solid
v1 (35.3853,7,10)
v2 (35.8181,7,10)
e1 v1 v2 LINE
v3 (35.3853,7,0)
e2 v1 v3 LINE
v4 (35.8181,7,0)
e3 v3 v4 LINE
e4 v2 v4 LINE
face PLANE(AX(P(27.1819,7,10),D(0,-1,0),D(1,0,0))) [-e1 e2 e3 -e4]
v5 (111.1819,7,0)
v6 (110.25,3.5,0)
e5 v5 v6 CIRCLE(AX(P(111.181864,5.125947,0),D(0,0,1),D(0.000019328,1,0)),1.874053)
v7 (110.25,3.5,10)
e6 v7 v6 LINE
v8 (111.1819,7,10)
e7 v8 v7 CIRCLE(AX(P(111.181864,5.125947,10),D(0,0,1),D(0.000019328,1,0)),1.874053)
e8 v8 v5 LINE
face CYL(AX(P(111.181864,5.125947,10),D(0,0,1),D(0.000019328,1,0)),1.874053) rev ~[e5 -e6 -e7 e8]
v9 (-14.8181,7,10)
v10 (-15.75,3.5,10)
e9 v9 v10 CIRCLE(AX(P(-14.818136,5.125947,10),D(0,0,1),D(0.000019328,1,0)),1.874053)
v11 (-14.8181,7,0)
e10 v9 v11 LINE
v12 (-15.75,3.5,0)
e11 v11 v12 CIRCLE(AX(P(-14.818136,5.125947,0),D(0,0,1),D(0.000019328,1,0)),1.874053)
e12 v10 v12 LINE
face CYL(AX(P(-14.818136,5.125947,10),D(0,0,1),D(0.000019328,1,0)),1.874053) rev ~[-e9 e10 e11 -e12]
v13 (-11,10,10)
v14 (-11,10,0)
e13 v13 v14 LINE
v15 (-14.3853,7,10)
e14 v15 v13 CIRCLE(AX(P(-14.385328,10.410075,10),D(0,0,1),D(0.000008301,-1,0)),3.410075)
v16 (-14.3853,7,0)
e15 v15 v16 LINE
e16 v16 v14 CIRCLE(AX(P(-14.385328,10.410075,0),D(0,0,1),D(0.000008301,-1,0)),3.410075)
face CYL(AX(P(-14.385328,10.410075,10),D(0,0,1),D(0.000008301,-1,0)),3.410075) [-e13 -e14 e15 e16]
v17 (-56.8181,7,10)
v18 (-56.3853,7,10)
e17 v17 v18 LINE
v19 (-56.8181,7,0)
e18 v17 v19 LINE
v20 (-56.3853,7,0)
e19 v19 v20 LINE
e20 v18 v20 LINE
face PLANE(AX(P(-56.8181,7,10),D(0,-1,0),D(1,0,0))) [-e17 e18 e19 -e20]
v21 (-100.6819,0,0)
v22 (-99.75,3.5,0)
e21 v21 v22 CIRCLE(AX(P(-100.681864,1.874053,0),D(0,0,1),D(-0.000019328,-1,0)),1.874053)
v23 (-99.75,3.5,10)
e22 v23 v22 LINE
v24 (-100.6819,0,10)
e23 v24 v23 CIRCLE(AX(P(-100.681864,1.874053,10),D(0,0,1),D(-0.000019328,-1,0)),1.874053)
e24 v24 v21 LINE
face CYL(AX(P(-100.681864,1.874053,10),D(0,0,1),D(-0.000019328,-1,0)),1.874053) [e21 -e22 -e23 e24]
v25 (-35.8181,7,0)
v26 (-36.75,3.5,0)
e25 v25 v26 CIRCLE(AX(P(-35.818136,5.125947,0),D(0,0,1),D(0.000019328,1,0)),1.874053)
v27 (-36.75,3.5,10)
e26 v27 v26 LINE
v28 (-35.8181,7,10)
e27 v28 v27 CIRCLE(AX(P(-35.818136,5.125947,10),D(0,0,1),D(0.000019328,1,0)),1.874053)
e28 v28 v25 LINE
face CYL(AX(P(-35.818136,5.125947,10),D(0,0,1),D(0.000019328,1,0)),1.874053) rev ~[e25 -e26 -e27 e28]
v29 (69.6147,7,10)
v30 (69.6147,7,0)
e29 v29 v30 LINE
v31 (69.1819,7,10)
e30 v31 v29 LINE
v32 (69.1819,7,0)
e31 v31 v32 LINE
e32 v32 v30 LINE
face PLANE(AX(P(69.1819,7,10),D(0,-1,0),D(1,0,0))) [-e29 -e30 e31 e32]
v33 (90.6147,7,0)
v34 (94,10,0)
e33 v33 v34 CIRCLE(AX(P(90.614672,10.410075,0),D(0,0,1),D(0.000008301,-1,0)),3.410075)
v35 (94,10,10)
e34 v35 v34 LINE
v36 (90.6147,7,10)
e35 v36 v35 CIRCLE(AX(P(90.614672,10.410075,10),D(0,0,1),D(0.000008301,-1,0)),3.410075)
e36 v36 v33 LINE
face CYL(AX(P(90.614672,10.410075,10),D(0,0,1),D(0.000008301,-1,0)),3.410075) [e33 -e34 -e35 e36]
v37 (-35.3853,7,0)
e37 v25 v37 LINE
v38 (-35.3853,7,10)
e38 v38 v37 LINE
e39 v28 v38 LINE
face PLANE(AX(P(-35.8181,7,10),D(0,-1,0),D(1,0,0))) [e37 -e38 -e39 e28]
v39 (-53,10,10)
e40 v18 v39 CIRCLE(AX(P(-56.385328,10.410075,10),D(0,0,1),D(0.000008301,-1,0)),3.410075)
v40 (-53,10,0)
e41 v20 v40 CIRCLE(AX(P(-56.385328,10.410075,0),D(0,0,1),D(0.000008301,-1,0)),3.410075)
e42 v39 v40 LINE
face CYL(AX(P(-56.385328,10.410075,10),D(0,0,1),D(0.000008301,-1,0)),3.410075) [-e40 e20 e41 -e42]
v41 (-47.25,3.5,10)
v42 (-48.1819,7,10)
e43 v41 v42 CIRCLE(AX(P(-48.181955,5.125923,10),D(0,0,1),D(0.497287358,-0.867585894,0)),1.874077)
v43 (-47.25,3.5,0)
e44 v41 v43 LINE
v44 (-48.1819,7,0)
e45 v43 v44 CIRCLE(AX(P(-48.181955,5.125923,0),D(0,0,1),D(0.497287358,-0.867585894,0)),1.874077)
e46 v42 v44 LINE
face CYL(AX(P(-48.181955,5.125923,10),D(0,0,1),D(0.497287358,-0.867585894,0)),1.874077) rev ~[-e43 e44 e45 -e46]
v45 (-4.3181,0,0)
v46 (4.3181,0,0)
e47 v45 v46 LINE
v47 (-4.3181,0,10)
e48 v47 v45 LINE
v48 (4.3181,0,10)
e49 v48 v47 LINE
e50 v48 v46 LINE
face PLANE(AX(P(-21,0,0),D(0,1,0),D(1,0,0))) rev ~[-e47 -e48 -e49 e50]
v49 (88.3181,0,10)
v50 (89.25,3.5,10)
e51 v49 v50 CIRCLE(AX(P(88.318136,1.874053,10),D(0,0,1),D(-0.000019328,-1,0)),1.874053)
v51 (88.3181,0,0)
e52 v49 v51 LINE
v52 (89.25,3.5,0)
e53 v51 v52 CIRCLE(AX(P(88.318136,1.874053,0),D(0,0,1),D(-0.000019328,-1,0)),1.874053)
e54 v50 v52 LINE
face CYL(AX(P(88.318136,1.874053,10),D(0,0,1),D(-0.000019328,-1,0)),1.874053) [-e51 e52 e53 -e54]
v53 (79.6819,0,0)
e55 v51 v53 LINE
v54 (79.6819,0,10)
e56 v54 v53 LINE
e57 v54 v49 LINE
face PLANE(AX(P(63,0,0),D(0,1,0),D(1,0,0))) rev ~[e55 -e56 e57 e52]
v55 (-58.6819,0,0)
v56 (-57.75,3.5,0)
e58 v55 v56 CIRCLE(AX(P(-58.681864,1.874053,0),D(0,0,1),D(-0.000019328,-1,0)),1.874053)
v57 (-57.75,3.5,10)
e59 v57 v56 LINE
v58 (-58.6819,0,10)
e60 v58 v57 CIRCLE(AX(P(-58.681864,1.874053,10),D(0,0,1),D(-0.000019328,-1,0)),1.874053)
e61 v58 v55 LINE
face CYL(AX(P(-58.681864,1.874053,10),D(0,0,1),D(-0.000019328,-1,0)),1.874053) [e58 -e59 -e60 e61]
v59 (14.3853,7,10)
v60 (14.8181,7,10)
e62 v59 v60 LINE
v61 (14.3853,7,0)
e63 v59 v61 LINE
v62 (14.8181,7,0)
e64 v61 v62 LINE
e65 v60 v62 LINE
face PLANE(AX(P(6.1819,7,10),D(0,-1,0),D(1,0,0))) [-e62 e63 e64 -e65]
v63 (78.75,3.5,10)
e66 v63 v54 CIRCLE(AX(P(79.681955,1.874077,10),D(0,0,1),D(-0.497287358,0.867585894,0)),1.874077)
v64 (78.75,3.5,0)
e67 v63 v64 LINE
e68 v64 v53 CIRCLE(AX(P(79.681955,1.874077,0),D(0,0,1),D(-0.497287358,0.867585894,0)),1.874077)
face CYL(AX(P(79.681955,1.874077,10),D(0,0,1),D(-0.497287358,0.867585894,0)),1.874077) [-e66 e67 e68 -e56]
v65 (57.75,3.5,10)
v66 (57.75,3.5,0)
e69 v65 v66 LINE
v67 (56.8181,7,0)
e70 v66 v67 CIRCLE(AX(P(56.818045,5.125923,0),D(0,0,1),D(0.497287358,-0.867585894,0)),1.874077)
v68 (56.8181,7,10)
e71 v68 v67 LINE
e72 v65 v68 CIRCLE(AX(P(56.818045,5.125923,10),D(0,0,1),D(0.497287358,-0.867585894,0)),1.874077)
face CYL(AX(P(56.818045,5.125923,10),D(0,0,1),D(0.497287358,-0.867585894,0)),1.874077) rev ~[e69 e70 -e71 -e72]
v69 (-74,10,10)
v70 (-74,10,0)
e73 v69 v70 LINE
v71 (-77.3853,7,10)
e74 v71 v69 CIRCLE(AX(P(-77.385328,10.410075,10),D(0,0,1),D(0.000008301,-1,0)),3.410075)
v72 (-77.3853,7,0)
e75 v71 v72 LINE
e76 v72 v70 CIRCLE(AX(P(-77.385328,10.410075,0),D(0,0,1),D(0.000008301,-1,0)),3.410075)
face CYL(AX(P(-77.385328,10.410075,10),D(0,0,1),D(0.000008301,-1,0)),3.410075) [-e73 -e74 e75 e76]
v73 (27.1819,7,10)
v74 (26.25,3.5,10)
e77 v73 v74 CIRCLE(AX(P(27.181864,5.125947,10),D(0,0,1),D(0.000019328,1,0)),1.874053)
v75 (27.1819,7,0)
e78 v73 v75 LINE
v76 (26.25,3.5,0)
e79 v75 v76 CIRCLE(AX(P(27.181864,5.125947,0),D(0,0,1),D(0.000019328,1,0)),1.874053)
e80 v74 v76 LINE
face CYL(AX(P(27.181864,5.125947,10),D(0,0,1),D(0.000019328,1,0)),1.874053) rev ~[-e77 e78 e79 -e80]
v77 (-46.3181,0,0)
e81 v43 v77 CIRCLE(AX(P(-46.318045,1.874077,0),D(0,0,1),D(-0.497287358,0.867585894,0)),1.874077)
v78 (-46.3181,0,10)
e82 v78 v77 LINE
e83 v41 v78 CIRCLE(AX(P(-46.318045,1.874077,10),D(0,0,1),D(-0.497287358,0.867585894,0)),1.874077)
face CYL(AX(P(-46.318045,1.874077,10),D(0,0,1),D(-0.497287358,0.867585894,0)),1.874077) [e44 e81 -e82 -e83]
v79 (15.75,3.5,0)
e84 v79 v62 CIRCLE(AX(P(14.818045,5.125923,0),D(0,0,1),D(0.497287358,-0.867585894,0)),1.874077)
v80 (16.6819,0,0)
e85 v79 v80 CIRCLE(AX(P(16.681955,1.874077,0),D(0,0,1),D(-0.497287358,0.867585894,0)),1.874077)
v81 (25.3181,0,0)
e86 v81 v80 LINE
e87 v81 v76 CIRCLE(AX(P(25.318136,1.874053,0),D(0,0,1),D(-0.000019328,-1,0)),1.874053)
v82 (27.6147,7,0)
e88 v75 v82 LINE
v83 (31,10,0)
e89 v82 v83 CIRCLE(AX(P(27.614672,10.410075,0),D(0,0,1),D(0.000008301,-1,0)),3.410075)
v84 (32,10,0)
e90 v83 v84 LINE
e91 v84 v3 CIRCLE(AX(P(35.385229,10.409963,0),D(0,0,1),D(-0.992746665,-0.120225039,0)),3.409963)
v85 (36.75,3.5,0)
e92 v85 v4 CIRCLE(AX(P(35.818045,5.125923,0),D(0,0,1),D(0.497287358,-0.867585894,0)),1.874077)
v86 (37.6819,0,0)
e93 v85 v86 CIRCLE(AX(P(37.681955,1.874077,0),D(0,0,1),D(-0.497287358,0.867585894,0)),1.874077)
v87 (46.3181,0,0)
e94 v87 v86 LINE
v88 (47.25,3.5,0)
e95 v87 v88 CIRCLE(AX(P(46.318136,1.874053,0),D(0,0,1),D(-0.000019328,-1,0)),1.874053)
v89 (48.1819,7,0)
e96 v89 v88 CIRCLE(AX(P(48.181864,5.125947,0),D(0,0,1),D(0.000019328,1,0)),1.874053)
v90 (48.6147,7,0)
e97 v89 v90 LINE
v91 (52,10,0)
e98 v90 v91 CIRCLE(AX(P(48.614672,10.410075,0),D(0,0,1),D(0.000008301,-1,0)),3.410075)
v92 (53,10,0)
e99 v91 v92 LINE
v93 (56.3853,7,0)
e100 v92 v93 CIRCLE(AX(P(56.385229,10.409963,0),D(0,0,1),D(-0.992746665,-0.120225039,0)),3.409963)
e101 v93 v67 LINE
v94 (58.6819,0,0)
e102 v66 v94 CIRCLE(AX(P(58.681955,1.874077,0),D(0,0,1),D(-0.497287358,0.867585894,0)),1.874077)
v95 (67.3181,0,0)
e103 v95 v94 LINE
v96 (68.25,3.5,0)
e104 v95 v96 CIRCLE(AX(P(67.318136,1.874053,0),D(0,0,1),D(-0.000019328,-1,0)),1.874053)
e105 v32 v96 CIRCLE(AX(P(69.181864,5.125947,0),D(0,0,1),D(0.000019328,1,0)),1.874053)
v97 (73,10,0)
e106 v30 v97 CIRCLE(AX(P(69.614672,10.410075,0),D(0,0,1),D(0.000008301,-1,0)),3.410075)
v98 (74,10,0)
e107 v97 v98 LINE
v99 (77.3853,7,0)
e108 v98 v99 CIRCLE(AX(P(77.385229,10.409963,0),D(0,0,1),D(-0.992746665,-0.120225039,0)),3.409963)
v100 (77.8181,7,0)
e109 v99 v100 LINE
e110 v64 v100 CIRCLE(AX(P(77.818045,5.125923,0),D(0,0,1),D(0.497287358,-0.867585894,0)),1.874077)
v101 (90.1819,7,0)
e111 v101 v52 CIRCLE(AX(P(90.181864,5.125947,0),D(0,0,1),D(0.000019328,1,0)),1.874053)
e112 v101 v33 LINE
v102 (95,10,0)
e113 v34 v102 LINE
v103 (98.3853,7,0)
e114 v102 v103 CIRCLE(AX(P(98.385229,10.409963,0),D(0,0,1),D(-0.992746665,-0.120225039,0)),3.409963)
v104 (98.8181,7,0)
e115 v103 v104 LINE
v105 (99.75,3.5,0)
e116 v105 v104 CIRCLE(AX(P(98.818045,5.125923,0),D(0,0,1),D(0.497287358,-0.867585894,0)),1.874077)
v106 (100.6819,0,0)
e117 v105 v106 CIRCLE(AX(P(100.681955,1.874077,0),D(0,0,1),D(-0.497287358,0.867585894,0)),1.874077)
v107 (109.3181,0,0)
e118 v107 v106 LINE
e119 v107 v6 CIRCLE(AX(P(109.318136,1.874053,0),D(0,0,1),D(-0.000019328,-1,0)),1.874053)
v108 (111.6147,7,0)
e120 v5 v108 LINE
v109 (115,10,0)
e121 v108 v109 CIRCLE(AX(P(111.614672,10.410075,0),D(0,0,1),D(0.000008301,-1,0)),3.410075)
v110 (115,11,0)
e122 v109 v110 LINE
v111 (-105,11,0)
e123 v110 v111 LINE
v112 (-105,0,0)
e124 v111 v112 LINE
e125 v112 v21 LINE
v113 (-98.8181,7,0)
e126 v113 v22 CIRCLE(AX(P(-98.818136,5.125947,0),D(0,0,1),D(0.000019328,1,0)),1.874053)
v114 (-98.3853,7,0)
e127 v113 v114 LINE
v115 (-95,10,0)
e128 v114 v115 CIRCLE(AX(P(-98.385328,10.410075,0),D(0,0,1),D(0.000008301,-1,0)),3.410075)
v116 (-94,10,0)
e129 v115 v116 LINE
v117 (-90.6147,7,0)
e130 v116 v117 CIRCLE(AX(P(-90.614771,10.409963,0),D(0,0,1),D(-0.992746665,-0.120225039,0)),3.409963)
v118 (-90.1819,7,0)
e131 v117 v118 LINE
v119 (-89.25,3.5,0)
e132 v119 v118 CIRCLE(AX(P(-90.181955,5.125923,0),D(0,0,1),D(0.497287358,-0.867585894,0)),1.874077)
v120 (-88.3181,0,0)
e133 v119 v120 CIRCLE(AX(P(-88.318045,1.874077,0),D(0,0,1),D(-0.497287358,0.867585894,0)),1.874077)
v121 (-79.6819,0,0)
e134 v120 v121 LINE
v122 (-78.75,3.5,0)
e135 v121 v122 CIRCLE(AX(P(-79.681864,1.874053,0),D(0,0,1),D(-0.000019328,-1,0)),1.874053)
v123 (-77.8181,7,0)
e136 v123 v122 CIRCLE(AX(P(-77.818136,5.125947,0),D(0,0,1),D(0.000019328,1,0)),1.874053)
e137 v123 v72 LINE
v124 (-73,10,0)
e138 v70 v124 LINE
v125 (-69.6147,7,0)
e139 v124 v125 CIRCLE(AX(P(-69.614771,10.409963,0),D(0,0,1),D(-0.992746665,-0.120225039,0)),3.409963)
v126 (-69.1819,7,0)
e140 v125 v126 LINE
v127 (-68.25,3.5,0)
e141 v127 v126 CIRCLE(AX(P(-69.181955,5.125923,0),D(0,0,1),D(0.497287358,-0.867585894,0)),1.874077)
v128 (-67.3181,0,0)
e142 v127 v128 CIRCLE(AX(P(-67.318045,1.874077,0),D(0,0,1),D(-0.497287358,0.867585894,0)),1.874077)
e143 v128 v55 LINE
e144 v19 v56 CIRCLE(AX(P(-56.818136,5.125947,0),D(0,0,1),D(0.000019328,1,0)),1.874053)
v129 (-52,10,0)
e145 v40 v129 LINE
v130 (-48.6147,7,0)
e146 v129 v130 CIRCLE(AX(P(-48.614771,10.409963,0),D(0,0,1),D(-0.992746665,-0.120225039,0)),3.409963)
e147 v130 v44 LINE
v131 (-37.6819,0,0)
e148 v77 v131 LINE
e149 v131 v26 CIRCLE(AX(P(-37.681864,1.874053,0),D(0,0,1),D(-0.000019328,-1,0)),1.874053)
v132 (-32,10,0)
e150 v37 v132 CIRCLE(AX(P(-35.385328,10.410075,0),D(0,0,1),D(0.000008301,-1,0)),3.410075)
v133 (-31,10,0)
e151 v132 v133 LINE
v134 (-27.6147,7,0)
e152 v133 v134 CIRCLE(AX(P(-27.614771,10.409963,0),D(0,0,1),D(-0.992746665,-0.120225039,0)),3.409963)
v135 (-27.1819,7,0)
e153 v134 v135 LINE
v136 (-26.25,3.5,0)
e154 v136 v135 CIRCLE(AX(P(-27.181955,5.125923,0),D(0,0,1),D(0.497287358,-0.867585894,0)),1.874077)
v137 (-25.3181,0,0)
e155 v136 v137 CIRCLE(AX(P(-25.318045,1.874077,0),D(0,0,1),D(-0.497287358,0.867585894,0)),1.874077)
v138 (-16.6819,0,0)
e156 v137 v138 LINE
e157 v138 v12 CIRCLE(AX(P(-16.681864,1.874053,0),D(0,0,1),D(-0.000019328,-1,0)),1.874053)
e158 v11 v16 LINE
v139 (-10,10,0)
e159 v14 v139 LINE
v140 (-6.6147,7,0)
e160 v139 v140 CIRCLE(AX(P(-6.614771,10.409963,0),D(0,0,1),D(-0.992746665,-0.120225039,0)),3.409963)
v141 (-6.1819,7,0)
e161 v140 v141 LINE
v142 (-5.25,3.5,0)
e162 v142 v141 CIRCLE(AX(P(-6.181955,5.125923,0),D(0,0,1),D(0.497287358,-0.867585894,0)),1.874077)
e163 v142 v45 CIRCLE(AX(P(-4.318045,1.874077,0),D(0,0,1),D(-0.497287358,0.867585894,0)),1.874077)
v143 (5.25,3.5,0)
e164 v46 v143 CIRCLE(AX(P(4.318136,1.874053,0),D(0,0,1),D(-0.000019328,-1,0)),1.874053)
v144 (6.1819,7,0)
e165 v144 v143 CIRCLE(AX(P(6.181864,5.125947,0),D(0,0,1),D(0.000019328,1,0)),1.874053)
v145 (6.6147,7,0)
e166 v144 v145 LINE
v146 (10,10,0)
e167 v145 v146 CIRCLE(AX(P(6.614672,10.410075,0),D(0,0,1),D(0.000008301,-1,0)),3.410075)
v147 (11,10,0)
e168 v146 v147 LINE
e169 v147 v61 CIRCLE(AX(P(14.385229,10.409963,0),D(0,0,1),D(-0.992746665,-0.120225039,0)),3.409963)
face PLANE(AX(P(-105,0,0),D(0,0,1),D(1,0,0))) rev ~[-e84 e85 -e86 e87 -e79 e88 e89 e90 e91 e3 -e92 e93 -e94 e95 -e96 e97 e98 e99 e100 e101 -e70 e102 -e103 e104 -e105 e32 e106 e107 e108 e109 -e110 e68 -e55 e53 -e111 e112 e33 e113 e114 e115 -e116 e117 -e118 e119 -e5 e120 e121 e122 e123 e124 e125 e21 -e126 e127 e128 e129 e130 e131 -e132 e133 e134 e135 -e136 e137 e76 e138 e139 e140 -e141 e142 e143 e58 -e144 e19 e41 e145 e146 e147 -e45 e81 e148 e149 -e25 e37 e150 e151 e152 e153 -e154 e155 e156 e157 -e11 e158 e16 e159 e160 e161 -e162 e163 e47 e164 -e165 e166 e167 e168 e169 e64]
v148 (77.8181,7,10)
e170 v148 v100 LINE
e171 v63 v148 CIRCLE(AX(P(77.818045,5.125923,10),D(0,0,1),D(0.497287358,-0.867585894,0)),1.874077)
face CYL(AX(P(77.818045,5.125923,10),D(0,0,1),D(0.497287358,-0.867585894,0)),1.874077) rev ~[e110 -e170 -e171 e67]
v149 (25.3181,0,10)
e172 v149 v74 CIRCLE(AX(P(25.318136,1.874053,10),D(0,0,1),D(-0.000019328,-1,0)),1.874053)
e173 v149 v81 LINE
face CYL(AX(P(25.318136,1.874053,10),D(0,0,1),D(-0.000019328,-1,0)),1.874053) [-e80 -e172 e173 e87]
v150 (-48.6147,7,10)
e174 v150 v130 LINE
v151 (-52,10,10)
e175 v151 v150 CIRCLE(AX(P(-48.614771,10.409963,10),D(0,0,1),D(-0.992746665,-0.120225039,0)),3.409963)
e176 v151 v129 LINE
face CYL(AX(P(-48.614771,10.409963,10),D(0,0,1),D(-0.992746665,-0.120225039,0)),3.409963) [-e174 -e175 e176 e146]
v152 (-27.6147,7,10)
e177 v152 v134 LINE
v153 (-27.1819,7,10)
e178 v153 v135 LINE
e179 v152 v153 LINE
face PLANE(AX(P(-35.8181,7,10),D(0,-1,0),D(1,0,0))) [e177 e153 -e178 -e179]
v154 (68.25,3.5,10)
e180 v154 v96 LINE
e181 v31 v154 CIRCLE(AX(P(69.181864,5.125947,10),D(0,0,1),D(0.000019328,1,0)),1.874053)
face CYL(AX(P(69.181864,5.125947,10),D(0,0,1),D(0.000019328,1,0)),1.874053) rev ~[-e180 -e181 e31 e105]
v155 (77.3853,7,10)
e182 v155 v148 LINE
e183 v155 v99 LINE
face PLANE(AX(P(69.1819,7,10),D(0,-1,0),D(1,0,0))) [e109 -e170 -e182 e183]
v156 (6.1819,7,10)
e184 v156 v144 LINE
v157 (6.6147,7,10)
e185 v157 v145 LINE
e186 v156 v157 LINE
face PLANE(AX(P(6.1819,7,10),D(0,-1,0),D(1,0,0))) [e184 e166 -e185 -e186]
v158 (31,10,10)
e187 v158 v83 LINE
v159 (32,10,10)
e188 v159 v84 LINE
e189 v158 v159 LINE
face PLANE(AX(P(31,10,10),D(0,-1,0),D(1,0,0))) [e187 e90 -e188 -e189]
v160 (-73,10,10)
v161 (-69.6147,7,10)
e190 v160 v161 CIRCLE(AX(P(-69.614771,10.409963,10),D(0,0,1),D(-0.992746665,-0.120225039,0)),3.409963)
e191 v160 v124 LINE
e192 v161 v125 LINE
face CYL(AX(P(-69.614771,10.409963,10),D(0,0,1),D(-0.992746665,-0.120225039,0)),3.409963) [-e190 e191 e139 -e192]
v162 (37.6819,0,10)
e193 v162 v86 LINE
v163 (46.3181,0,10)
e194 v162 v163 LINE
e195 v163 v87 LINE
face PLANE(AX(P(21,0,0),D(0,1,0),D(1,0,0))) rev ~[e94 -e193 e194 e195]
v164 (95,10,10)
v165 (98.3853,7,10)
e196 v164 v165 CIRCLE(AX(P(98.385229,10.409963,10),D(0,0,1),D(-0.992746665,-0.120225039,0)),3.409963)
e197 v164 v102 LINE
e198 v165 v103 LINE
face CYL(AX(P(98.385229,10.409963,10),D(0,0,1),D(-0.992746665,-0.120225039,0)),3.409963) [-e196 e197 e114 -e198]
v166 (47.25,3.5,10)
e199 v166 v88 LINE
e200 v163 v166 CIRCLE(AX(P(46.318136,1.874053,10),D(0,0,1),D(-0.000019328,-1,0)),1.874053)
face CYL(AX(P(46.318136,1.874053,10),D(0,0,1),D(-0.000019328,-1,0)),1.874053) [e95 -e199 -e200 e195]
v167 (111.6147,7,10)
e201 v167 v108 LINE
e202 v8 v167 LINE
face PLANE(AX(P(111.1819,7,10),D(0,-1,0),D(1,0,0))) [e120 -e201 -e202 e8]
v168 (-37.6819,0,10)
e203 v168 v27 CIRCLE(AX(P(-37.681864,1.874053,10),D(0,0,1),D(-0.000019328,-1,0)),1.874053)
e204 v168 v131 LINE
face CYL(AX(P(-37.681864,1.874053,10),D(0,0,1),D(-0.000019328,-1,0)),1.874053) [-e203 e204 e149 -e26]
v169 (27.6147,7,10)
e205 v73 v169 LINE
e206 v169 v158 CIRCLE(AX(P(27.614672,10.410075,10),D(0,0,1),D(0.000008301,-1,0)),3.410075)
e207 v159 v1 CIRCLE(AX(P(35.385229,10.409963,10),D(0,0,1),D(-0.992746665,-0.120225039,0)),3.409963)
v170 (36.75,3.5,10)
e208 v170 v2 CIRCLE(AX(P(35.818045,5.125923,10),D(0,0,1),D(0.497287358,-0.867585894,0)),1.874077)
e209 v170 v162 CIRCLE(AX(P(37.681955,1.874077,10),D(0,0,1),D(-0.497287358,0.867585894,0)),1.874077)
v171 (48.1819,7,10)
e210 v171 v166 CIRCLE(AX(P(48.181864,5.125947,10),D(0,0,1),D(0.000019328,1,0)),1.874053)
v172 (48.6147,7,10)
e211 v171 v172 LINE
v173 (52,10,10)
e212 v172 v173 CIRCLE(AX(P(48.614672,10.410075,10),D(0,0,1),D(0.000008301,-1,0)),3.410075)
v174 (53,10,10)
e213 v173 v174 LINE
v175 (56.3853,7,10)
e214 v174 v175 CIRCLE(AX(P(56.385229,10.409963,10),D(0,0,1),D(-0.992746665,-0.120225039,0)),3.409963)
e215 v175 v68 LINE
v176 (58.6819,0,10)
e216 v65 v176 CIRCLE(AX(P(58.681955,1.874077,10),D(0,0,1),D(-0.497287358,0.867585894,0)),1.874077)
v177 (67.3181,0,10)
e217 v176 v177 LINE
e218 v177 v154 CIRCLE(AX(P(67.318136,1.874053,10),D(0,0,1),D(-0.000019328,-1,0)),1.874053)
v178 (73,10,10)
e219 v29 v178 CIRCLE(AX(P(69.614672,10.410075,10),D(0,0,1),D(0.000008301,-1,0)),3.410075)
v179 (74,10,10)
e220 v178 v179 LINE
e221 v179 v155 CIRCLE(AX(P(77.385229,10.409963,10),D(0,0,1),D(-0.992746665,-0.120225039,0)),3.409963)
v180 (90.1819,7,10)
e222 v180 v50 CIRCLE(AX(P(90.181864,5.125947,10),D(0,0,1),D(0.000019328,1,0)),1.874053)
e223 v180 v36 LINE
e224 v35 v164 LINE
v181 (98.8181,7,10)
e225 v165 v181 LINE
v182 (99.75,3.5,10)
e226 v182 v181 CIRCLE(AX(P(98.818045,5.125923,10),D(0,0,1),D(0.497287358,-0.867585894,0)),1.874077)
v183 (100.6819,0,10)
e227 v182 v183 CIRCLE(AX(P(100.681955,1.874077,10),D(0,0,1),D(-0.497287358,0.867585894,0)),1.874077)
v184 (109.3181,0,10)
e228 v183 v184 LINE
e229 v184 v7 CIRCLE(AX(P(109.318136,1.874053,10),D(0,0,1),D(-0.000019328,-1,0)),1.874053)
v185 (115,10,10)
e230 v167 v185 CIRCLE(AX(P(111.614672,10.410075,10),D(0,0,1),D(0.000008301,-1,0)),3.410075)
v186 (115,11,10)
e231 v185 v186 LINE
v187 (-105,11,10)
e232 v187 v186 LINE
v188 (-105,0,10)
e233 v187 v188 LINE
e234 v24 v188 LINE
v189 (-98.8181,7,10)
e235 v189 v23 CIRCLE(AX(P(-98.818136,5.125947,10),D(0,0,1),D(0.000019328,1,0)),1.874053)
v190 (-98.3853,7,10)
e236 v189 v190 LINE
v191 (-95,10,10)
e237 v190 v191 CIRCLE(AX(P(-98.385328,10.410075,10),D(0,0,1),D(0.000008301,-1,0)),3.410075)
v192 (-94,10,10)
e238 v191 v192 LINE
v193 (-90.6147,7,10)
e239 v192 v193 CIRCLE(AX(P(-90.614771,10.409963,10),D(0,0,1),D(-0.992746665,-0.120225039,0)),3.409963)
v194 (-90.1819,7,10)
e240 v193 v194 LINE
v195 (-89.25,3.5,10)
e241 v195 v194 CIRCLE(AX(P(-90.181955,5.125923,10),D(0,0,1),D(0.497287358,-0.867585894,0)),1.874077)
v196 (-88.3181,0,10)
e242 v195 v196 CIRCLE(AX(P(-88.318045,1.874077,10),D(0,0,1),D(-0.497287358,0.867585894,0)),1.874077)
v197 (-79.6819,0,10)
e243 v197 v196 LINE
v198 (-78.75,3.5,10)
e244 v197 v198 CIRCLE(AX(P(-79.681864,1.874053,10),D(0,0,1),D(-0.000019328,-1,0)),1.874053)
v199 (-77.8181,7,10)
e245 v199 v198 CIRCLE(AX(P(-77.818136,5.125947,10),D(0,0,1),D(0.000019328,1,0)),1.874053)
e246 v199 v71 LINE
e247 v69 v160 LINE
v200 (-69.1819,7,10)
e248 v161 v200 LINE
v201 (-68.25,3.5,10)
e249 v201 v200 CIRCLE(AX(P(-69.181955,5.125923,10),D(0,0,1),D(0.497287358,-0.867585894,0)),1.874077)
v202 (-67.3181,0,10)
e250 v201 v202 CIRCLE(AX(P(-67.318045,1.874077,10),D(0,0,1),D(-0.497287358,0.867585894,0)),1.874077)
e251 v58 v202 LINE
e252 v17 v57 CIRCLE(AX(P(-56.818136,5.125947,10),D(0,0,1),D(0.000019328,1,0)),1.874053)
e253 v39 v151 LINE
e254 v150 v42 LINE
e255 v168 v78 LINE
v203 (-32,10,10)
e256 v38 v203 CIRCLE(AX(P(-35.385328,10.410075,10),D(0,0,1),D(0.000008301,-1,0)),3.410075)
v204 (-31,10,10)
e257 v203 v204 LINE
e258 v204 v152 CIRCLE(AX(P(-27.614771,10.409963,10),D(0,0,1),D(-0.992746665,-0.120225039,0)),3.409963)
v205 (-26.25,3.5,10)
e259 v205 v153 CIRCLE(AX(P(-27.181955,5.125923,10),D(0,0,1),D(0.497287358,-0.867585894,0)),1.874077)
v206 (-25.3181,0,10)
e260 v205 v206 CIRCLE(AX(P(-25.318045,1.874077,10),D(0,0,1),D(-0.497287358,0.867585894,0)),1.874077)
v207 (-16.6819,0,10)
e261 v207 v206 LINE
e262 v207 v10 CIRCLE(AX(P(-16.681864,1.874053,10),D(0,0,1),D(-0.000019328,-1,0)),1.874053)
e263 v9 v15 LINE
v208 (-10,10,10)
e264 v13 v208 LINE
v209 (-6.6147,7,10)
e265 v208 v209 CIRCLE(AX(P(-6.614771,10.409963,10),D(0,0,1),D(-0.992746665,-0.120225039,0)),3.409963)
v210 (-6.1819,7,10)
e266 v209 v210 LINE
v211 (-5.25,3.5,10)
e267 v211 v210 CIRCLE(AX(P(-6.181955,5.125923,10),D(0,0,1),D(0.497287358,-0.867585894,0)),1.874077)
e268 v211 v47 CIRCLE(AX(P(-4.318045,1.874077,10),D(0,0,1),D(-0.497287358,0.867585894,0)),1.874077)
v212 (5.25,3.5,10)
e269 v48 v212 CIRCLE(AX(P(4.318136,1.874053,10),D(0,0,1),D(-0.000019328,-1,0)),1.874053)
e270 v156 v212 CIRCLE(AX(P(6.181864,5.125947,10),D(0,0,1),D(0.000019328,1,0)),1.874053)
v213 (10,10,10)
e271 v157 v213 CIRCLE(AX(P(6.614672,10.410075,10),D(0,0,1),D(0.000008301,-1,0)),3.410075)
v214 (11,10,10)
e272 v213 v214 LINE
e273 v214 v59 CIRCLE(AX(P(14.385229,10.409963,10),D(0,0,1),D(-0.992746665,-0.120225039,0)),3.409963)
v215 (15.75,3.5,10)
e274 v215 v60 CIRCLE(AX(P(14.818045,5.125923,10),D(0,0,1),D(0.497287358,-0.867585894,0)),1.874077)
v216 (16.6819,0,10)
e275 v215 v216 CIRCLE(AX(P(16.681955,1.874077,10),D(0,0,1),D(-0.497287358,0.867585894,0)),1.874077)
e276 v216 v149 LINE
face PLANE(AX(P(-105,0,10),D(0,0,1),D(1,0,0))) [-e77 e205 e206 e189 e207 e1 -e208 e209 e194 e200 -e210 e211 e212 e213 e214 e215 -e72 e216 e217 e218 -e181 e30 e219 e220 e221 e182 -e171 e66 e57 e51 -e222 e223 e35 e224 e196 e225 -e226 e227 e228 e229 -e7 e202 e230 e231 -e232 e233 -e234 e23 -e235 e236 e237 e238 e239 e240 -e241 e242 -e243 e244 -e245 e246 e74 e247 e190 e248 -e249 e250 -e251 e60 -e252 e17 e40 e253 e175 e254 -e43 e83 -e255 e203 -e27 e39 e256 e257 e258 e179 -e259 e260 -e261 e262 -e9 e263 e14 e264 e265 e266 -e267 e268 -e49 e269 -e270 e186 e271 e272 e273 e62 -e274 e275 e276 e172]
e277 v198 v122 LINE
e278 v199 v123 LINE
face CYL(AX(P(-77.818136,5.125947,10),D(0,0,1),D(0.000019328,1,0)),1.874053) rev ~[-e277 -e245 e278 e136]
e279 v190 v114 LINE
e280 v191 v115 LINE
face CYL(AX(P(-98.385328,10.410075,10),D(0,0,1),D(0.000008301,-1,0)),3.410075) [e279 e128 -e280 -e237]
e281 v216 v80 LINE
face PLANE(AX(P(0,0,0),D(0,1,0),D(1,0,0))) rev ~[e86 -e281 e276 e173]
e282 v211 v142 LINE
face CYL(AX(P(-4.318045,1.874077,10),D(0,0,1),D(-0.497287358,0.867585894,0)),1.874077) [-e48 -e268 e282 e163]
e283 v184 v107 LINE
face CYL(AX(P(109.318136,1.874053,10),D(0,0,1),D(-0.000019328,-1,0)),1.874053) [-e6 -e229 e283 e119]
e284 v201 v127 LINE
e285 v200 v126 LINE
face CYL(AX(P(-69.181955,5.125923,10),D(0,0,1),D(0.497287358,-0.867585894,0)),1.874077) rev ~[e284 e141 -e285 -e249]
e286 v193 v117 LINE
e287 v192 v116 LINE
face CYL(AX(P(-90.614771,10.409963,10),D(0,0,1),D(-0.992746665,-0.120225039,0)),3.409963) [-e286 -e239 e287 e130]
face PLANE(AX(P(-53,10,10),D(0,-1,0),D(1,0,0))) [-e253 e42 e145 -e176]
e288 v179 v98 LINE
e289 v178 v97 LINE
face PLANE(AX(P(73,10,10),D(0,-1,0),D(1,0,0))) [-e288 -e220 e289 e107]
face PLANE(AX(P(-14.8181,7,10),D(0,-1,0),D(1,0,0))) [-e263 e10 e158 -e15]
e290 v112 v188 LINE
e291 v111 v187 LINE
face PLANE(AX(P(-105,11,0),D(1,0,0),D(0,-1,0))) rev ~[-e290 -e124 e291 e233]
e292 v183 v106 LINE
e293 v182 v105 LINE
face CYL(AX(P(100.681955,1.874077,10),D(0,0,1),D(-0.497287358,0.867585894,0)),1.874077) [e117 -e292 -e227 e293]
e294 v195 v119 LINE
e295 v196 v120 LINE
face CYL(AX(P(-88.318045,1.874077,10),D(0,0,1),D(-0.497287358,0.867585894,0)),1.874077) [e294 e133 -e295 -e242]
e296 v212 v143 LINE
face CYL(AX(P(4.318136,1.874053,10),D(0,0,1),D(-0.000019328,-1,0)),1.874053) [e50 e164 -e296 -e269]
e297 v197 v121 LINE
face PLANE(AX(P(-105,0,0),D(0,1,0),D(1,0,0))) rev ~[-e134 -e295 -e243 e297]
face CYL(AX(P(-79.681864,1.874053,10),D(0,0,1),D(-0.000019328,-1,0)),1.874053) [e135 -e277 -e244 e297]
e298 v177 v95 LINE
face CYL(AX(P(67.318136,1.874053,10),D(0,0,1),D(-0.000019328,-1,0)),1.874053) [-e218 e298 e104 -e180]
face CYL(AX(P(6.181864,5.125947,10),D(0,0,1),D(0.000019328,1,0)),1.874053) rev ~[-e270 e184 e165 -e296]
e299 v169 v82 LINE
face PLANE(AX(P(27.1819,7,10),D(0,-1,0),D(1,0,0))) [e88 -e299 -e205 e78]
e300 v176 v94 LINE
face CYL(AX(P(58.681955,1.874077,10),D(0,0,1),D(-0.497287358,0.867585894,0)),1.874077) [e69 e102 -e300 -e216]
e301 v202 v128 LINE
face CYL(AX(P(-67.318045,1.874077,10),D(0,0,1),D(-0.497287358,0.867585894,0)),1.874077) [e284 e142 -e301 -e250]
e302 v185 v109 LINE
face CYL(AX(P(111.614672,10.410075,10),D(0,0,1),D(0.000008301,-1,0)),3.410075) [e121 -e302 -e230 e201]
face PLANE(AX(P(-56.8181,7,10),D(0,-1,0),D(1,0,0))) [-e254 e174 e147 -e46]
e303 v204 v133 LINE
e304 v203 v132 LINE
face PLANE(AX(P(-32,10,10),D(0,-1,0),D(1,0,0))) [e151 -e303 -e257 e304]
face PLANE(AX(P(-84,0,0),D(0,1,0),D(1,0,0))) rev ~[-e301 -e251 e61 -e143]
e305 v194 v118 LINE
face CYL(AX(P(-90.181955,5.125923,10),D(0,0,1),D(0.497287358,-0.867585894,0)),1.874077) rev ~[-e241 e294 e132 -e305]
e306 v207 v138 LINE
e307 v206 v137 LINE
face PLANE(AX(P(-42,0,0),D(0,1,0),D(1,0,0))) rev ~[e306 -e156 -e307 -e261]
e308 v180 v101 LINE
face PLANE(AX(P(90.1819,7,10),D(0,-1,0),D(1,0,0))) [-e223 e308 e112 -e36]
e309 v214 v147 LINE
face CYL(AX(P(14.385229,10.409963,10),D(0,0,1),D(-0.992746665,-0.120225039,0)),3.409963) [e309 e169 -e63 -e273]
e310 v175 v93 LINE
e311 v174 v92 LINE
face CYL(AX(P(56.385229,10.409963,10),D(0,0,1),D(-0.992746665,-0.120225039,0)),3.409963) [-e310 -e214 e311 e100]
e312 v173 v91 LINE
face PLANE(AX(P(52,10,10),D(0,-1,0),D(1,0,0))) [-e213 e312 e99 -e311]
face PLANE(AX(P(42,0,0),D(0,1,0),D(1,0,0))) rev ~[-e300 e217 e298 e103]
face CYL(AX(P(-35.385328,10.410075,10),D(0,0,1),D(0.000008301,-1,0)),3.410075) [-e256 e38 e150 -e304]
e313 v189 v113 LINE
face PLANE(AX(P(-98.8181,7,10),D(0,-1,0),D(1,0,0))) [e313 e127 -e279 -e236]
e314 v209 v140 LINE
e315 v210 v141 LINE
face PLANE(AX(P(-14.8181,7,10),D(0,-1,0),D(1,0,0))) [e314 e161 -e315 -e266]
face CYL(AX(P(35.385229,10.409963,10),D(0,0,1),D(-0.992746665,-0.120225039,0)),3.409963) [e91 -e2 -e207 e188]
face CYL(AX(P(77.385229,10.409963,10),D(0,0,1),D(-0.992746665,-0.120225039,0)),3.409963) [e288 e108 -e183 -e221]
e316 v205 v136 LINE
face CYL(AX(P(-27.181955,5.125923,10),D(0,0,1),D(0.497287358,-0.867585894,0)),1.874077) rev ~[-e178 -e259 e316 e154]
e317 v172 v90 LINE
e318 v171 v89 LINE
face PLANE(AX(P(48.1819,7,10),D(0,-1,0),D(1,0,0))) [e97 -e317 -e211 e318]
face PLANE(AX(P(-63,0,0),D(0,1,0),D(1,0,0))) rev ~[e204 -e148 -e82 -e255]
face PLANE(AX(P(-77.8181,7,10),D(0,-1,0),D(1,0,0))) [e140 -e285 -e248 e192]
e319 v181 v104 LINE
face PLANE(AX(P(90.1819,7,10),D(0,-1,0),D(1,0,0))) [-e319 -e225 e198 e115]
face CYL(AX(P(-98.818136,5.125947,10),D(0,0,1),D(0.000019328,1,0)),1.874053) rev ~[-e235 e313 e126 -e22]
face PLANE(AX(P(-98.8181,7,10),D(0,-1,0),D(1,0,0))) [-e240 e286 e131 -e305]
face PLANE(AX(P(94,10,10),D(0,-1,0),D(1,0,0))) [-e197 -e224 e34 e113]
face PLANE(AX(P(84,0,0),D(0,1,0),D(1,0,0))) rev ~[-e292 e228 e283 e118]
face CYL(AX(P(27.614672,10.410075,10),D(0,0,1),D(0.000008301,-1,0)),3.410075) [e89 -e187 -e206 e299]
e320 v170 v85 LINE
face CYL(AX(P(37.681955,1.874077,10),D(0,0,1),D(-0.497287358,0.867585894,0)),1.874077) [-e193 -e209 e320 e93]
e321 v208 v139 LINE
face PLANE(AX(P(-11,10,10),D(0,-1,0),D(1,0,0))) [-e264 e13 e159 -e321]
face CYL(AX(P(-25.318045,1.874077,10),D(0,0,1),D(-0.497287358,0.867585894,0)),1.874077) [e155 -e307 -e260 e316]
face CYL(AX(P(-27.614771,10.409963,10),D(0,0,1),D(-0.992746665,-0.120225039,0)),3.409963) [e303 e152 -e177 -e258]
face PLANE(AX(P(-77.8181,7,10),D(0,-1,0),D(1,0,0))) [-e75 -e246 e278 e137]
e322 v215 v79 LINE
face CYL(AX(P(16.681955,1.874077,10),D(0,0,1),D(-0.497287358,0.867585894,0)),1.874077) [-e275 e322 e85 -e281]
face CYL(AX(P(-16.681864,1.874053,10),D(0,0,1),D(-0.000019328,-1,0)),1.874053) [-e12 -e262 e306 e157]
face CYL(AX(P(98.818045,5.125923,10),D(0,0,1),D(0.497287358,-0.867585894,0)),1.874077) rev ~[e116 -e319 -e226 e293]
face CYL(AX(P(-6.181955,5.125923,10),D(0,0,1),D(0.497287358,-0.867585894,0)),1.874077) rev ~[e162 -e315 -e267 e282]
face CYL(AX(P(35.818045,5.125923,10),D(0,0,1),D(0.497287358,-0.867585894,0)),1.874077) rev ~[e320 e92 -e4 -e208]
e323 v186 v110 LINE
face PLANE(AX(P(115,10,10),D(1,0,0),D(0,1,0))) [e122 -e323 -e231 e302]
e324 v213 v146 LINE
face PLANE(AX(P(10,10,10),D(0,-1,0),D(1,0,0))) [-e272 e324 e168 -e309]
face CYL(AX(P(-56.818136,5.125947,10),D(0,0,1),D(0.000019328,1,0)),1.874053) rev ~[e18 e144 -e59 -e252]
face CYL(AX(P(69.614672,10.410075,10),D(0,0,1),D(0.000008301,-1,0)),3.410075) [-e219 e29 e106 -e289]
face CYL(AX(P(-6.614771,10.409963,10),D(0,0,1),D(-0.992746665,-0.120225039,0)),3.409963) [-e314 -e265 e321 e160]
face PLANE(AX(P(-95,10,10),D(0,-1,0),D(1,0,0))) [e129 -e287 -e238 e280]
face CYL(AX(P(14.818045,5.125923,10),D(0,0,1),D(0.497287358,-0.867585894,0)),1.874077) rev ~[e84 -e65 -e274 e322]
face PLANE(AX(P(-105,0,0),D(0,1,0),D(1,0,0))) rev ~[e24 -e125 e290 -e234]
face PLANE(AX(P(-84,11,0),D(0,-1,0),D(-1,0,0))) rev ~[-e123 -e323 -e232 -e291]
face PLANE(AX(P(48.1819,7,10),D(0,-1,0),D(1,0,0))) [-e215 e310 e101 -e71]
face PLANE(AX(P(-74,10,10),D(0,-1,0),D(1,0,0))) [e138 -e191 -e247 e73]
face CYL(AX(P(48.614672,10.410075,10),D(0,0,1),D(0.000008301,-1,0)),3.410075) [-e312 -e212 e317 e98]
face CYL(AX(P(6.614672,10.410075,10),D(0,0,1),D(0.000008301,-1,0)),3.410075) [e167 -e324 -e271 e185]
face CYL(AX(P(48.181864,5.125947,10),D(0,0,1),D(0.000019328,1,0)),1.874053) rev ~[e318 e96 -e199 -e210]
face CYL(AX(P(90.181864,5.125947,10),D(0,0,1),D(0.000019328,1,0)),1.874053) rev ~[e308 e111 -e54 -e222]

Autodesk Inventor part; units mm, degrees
ref_plane "YZ Plane" through (0, 0, 0) normal (1, 0, 0) x (0, 1, 0)
ref_plane "XZ Plane" through (0, 0, 0) normal (0, 1, 0) x (-1, 0, 0)
ref_plane "XY Plane" through (0, 0, 0) normal (0, 0, 1) x (1, 0, 0)
sketch "Sketch1" plane through (0, 0, 0) normal (0, 0, 1) x (1, 0, 0)
  line L0 (0, 0) -> (21, 0)
  line L1 (21, 0) -> (21, 11)
  line L2 (21, 11) -> (0, 11)
  line L3 (0, 11) -> (0, 0)
  dimension "d0" = 21
  dimension "d1" = 11
extrude "Extrusion1" add sketch "Sketch1" along normal blind 10
sketch "Sketch2" plane through (0, 0, 10) normal (0, 0, 1) x (1, 0, 0)
  line L0 (0, 0) -> (21, 0) projected
  arc A0 (4.3181, 0) -> (5.25, 3.5) centre (4.3181, 1.8741) ccw
  arc A1 (6.1819, 7) -> (5.25, 3.5) centre (6.1819, 5.1259) ccw
  arc A2 (15.75, 3.5) -> (16.6819, 0) centre (16.6819, 1.8741) ccw
  arc A3 (15.75, 3.5) -> (14.8181, 7) centre (14.8181, 5.1259) ccw
  line L1 (6.1819, 7) -> (14.8181, 7)
  line L2 (21, 11) -> (0, 11) projected
  line L3 (4.3181, 1.8741) -> (6.1819, 5.1259) construction
  line L4 (16.6819, 1.8741) -> (14.8181, 5.1259) construction
  line L5 (0, 11) -> (0, 0) construction
  line L6 (21, 0) -> (21, 11) construction
  point P0 (10.5, 7)
  point P1 (15.75, 3.5)
  dimension "d7" = 10.5
  dimension "d9" = 7
  dimension "d13" = 10.5
extrude "Extrusion2" cut sketch "Sketch2" against normal through all
sketch "Sketch3" plane through (0, 0, 10) normal (0, 0, 1) x (1, 0, 0)
  line L0 (21, 11) -> (0, 11) projected
  line L1 (14.8181, 7) -> (6.1819, 7) projected
  arc A0 (6.6147, 7) -> (10, 10) centre (6.6147, 10.41) ccw
  arc A1 (11, 10) -> (14.3853, 7) centre (14.3853, 10.41) ccw
  line L2 (10, 10) -> (11, 10)
  line L3 (6.1819, 7) -> (14.8181, 7) projected
  line L4 (10.5, 10) -> (10.5, 11) construction
  point P0 (0, 0)
  dimension "d15" = 1
  dimension "d16" = 1
extrude "Extrusion3" cut sketch "Sketch3" against normal through all
pattern_linear "Rectangular Pattern1" count 6 spacing 21 along (1, 0, 0)
sketch "Sketch4" plane through (0, 0, 10) normal (0, 0, 1) x (1, 0, 0)
  line L0 (115, 10) -> (116, 10) projected
  line L1 (115, 10) -> (115, 11)
  line L2 (126, 11) -> (0, 11) projected
  line L3 (121.6819, 0) -> (126, 0) projected
  line L4 (121.6819, 0) -> (126, 0)
  line L5 (126, 0) -> (126, 11)
  line L6 (126, 0) -> (126, 11) projected
  line L7 (126, 11) -> (115, 11)
  arc A0 (116, 10) -> (119.3853, 7) centre (119.3853, 10.41) ccw projected
  line L8 (115, 10) -> (116, 10)
  line L9 (119.3853, 7) -> (119.8181, 7) projected
  arc A1 (116, 10) -> (119.3853, 7) centre (119.3853, 10.41) ccw
  arc A2 (120.75, 3.5) -> (119.8181, 7) centre (119.8181, 5.1259) ccw projected
  line L10 (119.3853, 7) -> (119.8181, 7)
  arc A3 (120.75, 3.5) -> (119.8181, 7) centre (119.8181, 5.1259) ccw
  arc A4 (120.75, 3.5) -> (121.6819, 0) centre (121.6819, 1.8741) ccw projected
  arc A5 (120.75, 3.5) -> (121.6819, 0) centre (121.6819, 1.8741) ccw
  point P0 (0, 0)
extrude "Extrusion4" cut sketch "Sketch4" against normal through all
pattern_linear "Rectangular Pattern2" count 6 spacing 21 along (-1, 0, 0) of "Extrusion1", "Extrusion3", "Extrusion2"
properties part number "Zipperteethv3.2"
